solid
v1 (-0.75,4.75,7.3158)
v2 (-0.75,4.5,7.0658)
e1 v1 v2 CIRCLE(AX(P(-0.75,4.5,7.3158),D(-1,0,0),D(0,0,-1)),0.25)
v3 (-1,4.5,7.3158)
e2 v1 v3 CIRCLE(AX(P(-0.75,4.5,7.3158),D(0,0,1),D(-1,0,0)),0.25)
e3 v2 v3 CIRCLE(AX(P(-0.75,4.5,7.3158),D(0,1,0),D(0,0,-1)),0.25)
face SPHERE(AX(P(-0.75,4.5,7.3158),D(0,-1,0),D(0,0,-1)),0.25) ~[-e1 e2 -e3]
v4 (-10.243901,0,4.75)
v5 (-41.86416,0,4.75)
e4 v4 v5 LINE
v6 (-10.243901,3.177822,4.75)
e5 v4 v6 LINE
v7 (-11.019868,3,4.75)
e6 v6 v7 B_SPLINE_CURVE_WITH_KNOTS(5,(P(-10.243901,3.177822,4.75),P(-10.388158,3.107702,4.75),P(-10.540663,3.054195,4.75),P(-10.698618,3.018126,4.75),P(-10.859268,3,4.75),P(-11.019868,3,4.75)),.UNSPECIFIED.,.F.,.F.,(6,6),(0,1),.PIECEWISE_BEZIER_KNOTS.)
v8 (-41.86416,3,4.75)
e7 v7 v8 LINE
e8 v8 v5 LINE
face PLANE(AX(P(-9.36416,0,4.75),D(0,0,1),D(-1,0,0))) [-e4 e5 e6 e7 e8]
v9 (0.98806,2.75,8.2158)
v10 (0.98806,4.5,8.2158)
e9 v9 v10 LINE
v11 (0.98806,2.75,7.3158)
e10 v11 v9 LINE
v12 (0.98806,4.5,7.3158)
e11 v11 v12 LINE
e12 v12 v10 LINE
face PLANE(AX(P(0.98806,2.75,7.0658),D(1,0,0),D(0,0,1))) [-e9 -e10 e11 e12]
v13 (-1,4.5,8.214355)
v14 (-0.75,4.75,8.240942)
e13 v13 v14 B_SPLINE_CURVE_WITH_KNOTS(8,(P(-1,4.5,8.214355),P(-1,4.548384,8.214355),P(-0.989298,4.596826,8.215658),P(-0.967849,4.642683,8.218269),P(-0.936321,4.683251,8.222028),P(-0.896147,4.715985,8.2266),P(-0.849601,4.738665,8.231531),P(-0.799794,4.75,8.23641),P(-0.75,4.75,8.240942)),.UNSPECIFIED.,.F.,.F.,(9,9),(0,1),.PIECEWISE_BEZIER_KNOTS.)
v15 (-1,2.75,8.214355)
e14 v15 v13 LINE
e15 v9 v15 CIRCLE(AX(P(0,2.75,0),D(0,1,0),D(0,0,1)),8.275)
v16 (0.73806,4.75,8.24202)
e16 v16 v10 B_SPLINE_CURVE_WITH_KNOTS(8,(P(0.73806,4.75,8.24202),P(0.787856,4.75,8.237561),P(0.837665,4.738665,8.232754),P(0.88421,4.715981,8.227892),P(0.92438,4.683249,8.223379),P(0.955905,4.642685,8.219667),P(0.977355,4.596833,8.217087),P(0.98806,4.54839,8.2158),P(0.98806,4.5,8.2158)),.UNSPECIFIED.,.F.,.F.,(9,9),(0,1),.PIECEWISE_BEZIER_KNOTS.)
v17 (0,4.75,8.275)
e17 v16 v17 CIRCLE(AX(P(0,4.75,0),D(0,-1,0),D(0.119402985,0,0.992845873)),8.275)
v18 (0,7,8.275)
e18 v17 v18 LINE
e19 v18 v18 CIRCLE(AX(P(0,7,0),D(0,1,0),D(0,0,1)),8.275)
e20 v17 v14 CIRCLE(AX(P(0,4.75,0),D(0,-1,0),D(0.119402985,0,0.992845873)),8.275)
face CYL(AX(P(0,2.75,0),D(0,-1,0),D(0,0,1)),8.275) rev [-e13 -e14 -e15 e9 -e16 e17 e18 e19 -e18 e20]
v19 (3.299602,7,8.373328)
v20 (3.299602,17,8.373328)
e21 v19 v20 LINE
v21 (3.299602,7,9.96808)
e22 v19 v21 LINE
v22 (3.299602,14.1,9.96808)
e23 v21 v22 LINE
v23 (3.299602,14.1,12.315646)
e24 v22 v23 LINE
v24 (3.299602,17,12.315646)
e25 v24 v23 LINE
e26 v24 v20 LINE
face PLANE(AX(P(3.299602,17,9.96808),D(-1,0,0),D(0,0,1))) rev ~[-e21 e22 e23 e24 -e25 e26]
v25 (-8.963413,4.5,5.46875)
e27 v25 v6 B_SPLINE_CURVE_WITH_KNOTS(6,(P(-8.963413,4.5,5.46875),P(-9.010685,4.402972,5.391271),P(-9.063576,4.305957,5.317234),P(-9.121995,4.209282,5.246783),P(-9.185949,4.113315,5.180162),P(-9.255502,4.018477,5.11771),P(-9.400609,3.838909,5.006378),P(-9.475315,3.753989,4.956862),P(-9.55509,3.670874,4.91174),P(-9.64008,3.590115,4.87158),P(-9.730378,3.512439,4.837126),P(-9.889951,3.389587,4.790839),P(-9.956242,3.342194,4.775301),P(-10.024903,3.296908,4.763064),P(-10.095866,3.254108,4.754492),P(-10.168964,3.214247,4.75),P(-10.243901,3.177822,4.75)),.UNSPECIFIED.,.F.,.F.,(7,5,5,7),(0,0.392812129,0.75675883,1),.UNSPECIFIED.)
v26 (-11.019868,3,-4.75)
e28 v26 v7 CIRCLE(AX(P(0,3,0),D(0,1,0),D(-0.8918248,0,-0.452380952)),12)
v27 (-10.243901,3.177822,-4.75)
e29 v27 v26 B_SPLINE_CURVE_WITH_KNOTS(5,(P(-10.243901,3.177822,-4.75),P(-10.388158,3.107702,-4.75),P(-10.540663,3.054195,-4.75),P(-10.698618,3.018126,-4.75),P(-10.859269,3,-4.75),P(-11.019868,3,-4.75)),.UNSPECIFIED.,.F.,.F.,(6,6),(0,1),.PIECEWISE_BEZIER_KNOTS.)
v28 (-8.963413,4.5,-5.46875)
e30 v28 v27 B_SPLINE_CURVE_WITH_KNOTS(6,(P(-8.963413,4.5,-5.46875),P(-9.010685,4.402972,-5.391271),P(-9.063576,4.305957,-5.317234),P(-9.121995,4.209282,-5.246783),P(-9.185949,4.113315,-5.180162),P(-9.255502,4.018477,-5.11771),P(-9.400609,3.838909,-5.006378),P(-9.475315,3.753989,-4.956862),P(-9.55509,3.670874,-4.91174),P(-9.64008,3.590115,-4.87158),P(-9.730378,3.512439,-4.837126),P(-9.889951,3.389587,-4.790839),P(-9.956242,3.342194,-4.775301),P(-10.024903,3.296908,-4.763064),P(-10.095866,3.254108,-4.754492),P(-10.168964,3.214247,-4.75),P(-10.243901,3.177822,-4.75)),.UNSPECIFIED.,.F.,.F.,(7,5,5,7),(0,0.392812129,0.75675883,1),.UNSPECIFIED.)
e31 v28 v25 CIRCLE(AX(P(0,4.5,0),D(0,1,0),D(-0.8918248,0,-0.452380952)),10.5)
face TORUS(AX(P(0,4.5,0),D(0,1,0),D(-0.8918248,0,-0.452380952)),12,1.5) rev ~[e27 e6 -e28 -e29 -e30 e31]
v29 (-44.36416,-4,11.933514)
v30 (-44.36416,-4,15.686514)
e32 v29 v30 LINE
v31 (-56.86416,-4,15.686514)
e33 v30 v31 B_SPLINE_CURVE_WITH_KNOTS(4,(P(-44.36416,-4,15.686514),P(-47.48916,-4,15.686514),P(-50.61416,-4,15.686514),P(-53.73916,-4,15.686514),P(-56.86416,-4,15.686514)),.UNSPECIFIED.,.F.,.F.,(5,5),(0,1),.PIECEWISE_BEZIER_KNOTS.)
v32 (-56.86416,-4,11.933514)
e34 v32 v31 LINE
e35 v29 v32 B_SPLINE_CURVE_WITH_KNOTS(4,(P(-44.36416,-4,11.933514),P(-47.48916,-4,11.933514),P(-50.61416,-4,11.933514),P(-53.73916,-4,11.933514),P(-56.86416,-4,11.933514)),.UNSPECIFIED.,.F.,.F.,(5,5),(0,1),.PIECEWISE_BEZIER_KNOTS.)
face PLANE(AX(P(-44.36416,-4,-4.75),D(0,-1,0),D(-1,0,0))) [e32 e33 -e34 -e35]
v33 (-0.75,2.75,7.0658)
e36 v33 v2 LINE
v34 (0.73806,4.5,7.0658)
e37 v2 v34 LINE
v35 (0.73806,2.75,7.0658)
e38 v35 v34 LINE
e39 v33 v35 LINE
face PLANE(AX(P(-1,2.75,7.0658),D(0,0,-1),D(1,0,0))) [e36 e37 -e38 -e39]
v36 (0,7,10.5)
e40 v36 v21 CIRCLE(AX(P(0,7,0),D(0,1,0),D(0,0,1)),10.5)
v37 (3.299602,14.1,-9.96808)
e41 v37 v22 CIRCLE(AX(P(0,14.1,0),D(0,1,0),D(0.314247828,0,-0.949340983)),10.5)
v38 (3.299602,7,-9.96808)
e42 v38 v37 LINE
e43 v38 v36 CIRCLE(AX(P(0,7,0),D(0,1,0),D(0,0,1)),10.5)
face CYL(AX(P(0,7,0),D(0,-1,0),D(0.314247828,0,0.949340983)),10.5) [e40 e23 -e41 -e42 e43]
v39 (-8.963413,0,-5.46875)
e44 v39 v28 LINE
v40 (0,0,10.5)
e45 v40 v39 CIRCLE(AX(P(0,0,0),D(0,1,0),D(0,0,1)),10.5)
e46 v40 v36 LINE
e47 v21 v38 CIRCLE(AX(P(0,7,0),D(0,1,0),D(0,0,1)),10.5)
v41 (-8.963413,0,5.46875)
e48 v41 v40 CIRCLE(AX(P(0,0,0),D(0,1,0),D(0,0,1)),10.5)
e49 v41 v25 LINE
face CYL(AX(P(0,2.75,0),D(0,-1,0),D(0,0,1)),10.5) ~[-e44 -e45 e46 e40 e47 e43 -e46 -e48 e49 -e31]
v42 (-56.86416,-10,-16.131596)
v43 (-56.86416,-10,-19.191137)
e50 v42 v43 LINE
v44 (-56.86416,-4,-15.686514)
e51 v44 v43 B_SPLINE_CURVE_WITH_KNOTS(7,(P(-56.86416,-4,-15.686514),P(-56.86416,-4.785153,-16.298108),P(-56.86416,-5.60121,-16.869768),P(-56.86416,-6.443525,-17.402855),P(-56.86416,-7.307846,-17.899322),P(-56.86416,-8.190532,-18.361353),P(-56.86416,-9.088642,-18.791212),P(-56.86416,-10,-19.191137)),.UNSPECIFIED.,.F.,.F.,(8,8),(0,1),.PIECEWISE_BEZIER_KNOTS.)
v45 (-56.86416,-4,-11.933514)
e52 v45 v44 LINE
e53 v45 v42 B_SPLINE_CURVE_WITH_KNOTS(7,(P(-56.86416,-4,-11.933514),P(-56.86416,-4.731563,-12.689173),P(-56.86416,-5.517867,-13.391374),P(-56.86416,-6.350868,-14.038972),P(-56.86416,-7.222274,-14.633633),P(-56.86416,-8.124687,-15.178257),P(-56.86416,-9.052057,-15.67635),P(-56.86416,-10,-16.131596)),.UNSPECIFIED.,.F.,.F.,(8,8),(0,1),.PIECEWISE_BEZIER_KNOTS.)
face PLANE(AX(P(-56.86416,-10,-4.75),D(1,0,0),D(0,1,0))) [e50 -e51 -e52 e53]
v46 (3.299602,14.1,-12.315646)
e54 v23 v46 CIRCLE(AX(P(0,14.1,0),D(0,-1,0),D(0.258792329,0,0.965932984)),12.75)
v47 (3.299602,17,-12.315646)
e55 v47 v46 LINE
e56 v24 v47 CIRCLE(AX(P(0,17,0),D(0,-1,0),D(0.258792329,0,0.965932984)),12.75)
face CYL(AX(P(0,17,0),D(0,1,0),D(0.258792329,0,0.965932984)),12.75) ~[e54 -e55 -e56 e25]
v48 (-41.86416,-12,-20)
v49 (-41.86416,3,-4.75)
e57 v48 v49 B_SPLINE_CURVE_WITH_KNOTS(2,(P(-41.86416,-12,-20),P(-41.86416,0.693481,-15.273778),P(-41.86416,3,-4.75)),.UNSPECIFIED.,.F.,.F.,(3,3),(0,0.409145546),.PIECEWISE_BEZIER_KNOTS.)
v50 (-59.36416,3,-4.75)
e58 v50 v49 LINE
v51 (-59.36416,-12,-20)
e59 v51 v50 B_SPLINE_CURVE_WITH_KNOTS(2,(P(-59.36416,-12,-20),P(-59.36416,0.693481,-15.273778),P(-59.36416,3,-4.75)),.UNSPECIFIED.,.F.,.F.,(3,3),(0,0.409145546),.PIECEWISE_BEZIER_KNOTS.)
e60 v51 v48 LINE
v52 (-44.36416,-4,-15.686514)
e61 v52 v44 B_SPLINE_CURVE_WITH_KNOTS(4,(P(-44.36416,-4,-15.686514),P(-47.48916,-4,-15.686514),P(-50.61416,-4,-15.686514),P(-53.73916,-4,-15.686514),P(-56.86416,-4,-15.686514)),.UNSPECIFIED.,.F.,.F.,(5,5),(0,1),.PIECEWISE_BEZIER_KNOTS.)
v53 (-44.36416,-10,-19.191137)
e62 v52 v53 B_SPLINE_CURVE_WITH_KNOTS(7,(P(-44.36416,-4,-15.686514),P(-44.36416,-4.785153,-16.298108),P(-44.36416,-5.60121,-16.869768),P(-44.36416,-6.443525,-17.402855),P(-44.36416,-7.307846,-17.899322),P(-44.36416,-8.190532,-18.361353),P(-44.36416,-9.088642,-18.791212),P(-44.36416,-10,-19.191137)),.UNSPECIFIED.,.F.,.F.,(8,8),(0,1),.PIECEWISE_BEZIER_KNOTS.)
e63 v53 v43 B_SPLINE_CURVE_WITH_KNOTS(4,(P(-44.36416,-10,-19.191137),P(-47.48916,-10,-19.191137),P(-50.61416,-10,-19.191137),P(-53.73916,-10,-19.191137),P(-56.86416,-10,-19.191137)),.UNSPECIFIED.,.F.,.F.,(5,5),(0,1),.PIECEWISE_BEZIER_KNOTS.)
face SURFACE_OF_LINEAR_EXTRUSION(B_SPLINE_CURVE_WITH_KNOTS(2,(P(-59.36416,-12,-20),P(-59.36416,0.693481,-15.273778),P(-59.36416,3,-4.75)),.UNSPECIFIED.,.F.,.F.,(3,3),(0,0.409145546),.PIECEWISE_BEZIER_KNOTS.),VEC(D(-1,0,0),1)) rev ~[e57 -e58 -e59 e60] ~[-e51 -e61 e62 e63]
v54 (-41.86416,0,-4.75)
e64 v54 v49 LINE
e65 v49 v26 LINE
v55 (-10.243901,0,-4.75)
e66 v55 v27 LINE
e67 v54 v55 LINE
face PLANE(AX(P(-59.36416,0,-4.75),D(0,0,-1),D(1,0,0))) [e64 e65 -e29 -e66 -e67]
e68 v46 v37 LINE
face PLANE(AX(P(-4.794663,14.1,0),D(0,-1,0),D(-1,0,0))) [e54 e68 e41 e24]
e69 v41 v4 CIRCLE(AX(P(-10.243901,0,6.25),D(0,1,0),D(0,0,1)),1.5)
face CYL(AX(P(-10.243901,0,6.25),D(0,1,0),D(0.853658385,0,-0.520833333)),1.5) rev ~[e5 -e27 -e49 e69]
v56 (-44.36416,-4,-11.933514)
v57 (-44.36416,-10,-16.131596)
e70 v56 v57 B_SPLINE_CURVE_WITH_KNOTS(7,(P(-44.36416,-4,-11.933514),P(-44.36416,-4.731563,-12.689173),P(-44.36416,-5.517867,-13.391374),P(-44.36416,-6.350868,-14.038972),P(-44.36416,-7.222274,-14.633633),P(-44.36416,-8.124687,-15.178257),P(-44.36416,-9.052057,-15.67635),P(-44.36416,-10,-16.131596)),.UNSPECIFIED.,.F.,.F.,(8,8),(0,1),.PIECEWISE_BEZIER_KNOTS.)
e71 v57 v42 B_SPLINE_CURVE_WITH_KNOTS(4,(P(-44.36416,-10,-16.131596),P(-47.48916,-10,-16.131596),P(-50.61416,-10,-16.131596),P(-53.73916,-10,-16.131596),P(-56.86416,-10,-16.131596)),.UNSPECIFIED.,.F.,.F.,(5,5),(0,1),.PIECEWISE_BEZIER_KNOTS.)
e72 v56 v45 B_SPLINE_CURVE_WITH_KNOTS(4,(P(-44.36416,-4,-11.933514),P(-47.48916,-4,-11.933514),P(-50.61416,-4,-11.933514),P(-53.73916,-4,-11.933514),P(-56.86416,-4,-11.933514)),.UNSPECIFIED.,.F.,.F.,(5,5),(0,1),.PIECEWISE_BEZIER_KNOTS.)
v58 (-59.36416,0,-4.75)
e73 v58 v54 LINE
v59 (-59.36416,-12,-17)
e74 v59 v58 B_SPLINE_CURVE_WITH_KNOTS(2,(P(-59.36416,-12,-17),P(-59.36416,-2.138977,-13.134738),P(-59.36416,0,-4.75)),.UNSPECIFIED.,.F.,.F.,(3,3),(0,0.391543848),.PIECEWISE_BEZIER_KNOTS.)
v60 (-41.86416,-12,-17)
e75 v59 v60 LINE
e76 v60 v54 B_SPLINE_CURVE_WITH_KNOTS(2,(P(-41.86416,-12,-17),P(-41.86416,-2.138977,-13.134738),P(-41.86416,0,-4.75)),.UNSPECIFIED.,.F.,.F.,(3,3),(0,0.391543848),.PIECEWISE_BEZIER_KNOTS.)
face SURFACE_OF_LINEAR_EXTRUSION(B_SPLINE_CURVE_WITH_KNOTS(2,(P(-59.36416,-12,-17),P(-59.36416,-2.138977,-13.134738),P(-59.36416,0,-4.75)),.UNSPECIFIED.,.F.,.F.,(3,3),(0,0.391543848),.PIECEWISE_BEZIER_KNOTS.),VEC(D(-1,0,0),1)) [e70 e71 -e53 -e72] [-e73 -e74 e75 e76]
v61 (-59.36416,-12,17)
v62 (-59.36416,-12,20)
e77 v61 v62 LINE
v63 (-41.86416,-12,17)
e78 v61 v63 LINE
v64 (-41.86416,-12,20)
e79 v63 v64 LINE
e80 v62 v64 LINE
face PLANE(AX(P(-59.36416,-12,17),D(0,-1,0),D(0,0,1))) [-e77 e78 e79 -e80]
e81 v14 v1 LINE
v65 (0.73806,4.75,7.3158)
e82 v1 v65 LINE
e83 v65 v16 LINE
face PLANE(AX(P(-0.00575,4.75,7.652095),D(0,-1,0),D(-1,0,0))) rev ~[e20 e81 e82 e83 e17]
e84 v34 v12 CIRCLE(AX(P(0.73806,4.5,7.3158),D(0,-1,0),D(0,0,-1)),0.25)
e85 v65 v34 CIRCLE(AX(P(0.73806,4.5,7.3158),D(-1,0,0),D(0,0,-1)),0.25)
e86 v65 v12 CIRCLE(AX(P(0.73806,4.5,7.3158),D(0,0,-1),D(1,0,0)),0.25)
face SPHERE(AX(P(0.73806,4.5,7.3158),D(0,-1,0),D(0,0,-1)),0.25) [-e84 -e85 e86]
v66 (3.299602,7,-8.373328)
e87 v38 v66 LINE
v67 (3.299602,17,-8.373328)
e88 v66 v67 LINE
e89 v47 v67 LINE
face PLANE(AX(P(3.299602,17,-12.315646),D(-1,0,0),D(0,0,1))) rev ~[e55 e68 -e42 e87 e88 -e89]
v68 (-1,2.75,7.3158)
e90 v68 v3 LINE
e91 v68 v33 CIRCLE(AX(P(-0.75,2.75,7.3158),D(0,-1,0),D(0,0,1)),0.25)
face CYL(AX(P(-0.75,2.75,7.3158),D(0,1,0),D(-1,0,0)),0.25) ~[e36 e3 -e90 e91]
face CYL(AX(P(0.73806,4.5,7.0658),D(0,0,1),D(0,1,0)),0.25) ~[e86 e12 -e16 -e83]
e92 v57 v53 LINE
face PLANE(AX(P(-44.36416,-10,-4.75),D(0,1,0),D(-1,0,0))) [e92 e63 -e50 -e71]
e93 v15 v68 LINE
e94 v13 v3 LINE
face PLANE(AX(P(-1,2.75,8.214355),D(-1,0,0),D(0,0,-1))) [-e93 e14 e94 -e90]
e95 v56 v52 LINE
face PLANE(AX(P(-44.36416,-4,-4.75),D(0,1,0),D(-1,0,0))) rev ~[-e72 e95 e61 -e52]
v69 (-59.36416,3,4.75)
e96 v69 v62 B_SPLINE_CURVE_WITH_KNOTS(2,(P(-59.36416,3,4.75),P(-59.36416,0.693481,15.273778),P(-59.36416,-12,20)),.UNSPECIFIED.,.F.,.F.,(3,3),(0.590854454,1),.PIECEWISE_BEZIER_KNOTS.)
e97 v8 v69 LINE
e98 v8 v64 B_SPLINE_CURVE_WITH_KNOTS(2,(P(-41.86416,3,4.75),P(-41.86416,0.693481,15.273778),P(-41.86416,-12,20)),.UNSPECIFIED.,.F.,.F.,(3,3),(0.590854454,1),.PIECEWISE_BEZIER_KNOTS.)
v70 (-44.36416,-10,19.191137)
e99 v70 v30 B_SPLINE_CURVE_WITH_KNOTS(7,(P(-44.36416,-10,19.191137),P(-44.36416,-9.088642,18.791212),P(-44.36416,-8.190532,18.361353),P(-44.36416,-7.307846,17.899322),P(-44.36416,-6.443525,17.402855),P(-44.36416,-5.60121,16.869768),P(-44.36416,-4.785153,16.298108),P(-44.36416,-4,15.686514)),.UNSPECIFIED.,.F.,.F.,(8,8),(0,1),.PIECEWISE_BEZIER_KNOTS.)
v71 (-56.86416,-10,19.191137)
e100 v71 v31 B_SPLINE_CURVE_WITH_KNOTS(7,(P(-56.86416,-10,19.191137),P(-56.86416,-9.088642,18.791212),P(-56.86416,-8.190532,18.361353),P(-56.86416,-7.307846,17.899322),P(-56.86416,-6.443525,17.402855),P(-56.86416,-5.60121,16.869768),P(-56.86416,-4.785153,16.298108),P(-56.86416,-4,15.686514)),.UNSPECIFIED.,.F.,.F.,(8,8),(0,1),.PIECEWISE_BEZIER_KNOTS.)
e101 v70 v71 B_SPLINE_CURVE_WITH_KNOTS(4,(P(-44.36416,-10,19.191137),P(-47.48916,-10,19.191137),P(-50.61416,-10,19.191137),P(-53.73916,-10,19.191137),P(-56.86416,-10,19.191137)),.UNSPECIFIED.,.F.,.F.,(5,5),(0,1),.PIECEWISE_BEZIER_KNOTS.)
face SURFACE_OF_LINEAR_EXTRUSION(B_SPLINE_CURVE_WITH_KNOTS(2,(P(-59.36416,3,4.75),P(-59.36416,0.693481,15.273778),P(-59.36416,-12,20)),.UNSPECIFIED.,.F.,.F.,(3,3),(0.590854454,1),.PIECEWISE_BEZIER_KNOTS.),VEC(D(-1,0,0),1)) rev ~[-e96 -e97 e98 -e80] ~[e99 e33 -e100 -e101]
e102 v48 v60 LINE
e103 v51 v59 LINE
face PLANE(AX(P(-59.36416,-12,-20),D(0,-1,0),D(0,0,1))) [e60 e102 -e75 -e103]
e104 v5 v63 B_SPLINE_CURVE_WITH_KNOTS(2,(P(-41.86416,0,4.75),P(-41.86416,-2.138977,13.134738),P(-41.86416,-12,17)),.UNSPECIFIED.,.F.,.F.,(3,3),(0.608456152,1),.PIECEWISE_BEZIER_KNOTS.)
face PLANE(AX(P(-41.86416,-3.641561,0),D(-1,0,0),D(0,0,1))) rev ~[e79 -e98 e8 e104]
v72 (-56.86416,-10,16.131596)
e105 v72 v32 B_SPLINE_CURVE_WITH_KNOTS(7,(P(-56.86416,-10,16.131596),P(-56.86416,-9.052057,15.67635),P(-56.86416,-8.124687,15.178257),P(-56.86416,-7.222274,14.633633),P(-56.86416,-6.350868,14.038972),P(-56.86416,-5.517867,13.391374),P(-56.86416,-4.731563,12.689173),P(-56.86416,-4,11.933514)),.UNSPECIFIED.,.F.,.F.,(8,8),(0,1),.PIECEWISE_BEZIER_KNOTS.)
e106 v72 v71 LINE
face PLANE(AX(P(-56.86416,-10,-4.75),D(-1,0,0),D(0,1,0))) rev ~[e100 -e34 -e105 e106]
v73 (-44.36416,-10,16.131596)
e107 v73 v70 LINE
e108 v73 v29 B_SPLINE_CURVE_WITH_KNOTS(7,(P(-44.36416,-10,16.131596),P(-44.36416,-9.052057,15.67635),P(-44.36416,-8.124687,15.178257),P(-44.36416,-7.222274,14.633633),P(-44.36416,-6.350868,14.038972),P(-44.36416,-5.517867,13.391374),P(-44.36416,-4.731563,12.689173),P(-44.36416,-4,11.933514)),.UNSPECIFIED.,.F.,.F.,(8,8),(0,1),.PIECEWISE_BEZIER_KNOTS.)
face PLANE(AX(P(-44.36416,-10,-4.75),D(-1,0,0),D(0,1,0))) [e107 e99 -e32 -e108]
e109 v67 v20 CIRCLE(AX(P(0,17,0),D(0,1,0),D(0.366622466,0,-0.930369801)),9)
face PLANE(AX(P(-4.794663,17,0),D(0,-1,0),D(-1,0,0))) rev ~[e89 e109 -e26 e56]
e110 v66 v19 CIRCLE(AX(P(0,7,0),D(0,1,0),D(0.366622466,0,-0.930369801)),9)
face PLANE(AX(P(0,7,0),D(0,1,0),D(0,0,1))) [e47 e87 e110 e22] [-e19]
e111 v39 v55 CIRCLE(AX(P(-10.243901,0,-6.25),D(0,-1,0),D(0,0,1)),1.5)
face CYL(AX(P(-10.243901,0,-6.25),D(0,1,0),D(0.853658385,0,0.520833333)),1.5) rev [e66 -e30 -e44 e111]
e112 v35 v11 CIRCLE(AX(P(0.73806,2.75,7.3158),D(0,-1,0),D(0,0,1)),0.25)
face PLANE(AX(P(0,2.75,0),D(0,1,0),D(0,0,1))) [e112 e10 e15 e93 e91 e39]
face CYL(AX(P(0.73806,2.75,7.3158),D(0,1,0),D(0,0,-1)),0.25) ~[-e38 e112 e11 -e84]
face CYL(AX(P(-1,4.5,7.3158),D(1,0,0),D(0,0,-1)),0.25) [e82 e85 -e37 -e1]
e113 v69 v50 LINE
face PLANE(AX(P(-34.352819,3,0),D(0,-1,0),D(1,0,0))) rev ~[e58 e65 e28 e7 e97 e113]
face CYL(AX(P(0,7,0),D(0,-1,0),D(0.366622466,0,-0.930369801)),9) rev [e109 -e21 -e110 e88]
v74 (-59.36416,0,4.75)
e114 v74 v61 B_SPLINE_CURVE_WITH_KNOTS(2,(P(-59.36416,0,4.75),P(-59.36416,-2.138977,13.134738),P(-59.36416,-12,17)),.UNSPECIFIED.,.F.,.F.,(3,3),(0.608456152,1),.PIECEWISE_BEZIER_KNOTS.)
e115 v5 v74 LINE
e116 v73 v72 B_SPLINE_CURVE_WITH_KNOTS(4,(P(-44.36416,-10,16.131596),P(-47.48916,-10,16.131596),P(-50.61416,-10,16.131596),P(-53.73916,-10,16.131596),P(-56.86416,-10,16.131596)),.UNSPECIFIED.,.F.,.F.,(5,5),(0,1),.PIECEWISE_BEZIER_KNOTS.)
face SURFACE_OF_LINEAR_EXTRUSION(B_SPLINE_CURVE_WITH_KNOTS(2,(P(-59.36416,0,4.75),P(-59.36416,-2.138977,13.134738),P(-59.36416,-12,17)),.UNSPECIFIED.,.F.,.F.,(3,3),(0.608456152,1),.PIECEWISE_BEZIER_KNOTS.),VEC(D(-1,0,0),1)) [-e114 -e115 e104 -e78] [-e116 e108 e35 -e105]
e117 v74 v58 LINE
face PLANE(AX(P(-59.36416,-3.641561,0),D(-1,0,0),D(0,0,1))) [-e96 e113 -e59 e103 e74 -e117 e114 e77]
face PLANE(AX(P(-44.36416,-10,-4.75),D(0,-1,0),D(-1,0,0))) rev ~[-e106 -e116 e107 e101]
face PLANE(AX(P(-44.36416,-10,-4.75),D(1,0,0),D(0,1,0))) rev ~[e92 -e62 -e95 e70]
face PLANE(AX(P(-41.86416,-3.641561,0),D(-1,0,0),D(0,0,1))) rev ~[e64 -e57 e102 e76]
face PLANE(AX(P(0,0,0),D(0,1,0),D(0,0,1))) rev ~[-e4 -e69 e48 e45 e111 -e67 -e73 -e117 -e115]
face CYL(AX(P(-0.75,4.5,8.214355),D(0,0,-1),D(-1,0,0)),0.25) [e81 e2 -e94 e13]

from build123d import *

# Parameters (mm, degrees)
F_0_1MM_FIT_FOR_POT_R   = 10.5
BOSS_EXTRUDE1_DEPTH     = 2.75
SKETCH4_R               = 10.5
SKETCH4_R_2             = 8.275
BOSS_EXTRUDE2_DEPTH     = 4.25
BOSS_EXTRUDE3_DEPTH     = 2
FILLET1_R               = 0.25
BOSS_EXTRUDE6_DEPTH     = 10
BOSS_EXTRUDE7_DEPTH     = 2.9
BOSS_EXTRUDE8_DEPTH     = 3
FILLET2_R               = 1.5
BOSS_EXTRUDE9_DEPTH     = 17.5
SKETCH12_W              = 12.5
SKETCH12_H              = 6
CUT_EXTRUDE2_DEPTH      = 67.52567968
CUT_EXTRUDE2_DEPTH_BACK = 67.52567968


with BuildPart() as part:
    # 0.1mm fit for pot → Boss-Extrude1 (new body)
    with BuildSketch(Plane(origin=(0, 0, 0), x_dir=(1, 0, 0), z_dir=(0, 1, 0))):
        with Locations(Location((0, 0, 0), (0, 0, 270))):
            Circle(F_0_1MM_FIT_FOR_POT_R)
    extrude(amount=BOSS_EXTRUDE1_DEPTH)

    # Sketch4 → Boss-Extrude2 (add)
    with BuildSketch(Plane(origin=(0, 2.75, 0), x_dir=(1, 0, 0), z_dir=(0, 1, 0))):
        with Locations(Location((0, 0, 0), (0, 0, 270))):
            Circle(SKETCH4_R)
        with Locations(Location((0, 0, 0), (0, 0, 270))):
            Circle(SKETCH4_R_2, mode=Mode.SUBTRACT)
    extrude(amount=BOSS_EXTRUDE2_DEPTH)

    # Sketch5 → Boss-Extrude3 (add)
    with BuildSketch(Plane(origin=(0, 2.75, 0), x_dir=(1, 0, 0), z_dir=(0, 1, 0))):
        with BuildLine():
            Line((-1, -8.214354813), (-1, -7.065799598))
            Line((-1, -7.065799598), (0.988059701, -7.065799598))
            Line((0.988059701, -7.065799598), (0.988059701, -8.215799598))
            ThreePointArc((0.988059701, -8.215799598), (-0.006013695, -8.274997815), (-1, -8.214354813))
        make_face()
    extrude(amount=BOSS_EXTRUDE3_DEPTH)

    # Fillet1
    fillet1_edges = [part.edges().sort_by_distance(p)[0] for p in [
        (0.988059701, 3.75, 7.065799598),
        (-1, 3.75, 7.065799598),
        (-0.005970149, 4.75, 7.065799598),
        (-1, 4.75, 7.640077205),
        (0.988059701, 4.75, 7.640799598),
    ]]
    fillet(fillet1_edges, radius=FILLET1_R)

    # Sketch7 → Boss-Extrude6 (add)
    with BuildSketch(Plane(origin=(0, 7, 0), x_dir=(1, 0, 0), z_dir=(0, 1, 0))):
        with BuildLine():
            Line((3.299602194, 9.968080325), (3.299602194, 8.373328213))
            ThreePointArc((3.299602194, 8.373328213), (-9, 0), (3.299602194, -8.373328213))
            Line((3.299602194, -8.373328213), (3.299602194, -9.968080325))
            ThreePointArc((3.299602194, -9.968080325), (-10.5, 0), (3.299602194, 9.968080325))
        make_face()
    extrude(amount=BOSS_EXTRUDE6_DEPTH)

    # Sketch8 → Boss-Extrude7 (add)
    with BuildSketch(Plane(origin=(0, 17, 0), x_dir=(1, 0, 0), z_dir=(0, 1, 0))):
        with BuildLine():
            Line((3.299602194, 12.315645552), (3.299602194, 9.968080325))
            ThreePointArc((3.299602194, 9.968080325), (-10.5, 0), (3.299602194, -9.968080325))
            Line((3.299602194, -9.968080325), (3.299602194, -12.315645552))
            ThreePointArc((3.299602194, -12.315645552), (-12.75, 0), (3.299602194, 12.315645552))
        make_face()
    extrude(amount=-BOSS_EXTRUDE7_DEPTH)

    # Sketch9 → Boss-Extrude8 (add)
    with BuildSketch(Plane.XZ):
        with BuildLine():
            Line((-9.3641604, 4.75), (-59.3641604, 4.75))
            Line((-59.3641604, 4.75), (-59.3641604, -4.75))
            Line((-59.3641604, -4.75), (-9.3641604, -4.75))
            ThreePointArc((-9.3641604, -4.75), (-10.5, 0), (-9.3641604, 4.75))
        make_face()
    extrude(amount=-BOSS_EXTRUDE8_DEPTH)

    # Fillet2
    fillet2_edges = [part.edges().sort_by_distance(p)[0] for p in [
        (-10.5, 3, 0),
        (-9.3641604, 1.5, 4.75),
        (-9.3641604, 1.5, -4.75),
    ]]
    fillet(fillet2_edges, radius=FILLET2_R)

    # Sketch10 → Boss-Extrude9 (add)
    with BuildSketch(Plane.ZY.offset(59.3641604)):
        with BuildLine():
            Line((-20, -12), (-17, -12))
            add(Edge.make_bspline(
                [(-17, -12), (-13.13473835, -2.13897718), (-4.75, 0)],
                knots=[0, 0, 0, 0.391543848, 0.391543848, 0.391543848], degree=2))
            Line((-4.75, 0), (4.75, 0))
            add(Edge.make_bspline(
                [(4.75, 0), (13.134738349, -2.13897718), (17, -12)],
                knots=[0.608456152, 0.608456152, 0.608456152, 1, 1, 1], degree=2))
            Line((17, -12), (20, -12))
            add(Edge.make_bspline(
                [(4.75, 3), (15.273777711, 0.693481354), (20, -12)],
                knots=[0.590854454, 0.590854454, 0.590854454, 1, 1, 1], degree=2))
            Line((4.75, 3), (-4.75, 3))
            add(Edge.make_bspline(
                [(-20, -12), (-15.273777711, 0.693481354), (-4.75, 3)],
                knots=[0, 0, 0, 0.409145546, 0.409145546, 0.409145546], degree=2))
        make_face()
    extrude(amount=-BOSS_EXTRUDE9_DEPTH)

    # Sketch12 → Cut-Extrude2 (cut, two sides)
    with BuildSketch(Plane(origin=(0, 0, -4.75), x_dir=(-1, 0, 0), z_dir=(0, 0, -1))) as cut_extrude2_sk:
        with Locations((50.6141604, -7)):
            Rectangle(SKETCH12_W, SKETCH12_H)
    extrude(amount=CUT_EXTRUDE2_DEPTH, mode=Mode.SUBTRACT)
    extrude(cut_extrude2_sk.sketch, amount=-CUT_EXTRUDE2_DEPTH_BACK, mode=Mode.SUBTRACT)


solid = part.part
